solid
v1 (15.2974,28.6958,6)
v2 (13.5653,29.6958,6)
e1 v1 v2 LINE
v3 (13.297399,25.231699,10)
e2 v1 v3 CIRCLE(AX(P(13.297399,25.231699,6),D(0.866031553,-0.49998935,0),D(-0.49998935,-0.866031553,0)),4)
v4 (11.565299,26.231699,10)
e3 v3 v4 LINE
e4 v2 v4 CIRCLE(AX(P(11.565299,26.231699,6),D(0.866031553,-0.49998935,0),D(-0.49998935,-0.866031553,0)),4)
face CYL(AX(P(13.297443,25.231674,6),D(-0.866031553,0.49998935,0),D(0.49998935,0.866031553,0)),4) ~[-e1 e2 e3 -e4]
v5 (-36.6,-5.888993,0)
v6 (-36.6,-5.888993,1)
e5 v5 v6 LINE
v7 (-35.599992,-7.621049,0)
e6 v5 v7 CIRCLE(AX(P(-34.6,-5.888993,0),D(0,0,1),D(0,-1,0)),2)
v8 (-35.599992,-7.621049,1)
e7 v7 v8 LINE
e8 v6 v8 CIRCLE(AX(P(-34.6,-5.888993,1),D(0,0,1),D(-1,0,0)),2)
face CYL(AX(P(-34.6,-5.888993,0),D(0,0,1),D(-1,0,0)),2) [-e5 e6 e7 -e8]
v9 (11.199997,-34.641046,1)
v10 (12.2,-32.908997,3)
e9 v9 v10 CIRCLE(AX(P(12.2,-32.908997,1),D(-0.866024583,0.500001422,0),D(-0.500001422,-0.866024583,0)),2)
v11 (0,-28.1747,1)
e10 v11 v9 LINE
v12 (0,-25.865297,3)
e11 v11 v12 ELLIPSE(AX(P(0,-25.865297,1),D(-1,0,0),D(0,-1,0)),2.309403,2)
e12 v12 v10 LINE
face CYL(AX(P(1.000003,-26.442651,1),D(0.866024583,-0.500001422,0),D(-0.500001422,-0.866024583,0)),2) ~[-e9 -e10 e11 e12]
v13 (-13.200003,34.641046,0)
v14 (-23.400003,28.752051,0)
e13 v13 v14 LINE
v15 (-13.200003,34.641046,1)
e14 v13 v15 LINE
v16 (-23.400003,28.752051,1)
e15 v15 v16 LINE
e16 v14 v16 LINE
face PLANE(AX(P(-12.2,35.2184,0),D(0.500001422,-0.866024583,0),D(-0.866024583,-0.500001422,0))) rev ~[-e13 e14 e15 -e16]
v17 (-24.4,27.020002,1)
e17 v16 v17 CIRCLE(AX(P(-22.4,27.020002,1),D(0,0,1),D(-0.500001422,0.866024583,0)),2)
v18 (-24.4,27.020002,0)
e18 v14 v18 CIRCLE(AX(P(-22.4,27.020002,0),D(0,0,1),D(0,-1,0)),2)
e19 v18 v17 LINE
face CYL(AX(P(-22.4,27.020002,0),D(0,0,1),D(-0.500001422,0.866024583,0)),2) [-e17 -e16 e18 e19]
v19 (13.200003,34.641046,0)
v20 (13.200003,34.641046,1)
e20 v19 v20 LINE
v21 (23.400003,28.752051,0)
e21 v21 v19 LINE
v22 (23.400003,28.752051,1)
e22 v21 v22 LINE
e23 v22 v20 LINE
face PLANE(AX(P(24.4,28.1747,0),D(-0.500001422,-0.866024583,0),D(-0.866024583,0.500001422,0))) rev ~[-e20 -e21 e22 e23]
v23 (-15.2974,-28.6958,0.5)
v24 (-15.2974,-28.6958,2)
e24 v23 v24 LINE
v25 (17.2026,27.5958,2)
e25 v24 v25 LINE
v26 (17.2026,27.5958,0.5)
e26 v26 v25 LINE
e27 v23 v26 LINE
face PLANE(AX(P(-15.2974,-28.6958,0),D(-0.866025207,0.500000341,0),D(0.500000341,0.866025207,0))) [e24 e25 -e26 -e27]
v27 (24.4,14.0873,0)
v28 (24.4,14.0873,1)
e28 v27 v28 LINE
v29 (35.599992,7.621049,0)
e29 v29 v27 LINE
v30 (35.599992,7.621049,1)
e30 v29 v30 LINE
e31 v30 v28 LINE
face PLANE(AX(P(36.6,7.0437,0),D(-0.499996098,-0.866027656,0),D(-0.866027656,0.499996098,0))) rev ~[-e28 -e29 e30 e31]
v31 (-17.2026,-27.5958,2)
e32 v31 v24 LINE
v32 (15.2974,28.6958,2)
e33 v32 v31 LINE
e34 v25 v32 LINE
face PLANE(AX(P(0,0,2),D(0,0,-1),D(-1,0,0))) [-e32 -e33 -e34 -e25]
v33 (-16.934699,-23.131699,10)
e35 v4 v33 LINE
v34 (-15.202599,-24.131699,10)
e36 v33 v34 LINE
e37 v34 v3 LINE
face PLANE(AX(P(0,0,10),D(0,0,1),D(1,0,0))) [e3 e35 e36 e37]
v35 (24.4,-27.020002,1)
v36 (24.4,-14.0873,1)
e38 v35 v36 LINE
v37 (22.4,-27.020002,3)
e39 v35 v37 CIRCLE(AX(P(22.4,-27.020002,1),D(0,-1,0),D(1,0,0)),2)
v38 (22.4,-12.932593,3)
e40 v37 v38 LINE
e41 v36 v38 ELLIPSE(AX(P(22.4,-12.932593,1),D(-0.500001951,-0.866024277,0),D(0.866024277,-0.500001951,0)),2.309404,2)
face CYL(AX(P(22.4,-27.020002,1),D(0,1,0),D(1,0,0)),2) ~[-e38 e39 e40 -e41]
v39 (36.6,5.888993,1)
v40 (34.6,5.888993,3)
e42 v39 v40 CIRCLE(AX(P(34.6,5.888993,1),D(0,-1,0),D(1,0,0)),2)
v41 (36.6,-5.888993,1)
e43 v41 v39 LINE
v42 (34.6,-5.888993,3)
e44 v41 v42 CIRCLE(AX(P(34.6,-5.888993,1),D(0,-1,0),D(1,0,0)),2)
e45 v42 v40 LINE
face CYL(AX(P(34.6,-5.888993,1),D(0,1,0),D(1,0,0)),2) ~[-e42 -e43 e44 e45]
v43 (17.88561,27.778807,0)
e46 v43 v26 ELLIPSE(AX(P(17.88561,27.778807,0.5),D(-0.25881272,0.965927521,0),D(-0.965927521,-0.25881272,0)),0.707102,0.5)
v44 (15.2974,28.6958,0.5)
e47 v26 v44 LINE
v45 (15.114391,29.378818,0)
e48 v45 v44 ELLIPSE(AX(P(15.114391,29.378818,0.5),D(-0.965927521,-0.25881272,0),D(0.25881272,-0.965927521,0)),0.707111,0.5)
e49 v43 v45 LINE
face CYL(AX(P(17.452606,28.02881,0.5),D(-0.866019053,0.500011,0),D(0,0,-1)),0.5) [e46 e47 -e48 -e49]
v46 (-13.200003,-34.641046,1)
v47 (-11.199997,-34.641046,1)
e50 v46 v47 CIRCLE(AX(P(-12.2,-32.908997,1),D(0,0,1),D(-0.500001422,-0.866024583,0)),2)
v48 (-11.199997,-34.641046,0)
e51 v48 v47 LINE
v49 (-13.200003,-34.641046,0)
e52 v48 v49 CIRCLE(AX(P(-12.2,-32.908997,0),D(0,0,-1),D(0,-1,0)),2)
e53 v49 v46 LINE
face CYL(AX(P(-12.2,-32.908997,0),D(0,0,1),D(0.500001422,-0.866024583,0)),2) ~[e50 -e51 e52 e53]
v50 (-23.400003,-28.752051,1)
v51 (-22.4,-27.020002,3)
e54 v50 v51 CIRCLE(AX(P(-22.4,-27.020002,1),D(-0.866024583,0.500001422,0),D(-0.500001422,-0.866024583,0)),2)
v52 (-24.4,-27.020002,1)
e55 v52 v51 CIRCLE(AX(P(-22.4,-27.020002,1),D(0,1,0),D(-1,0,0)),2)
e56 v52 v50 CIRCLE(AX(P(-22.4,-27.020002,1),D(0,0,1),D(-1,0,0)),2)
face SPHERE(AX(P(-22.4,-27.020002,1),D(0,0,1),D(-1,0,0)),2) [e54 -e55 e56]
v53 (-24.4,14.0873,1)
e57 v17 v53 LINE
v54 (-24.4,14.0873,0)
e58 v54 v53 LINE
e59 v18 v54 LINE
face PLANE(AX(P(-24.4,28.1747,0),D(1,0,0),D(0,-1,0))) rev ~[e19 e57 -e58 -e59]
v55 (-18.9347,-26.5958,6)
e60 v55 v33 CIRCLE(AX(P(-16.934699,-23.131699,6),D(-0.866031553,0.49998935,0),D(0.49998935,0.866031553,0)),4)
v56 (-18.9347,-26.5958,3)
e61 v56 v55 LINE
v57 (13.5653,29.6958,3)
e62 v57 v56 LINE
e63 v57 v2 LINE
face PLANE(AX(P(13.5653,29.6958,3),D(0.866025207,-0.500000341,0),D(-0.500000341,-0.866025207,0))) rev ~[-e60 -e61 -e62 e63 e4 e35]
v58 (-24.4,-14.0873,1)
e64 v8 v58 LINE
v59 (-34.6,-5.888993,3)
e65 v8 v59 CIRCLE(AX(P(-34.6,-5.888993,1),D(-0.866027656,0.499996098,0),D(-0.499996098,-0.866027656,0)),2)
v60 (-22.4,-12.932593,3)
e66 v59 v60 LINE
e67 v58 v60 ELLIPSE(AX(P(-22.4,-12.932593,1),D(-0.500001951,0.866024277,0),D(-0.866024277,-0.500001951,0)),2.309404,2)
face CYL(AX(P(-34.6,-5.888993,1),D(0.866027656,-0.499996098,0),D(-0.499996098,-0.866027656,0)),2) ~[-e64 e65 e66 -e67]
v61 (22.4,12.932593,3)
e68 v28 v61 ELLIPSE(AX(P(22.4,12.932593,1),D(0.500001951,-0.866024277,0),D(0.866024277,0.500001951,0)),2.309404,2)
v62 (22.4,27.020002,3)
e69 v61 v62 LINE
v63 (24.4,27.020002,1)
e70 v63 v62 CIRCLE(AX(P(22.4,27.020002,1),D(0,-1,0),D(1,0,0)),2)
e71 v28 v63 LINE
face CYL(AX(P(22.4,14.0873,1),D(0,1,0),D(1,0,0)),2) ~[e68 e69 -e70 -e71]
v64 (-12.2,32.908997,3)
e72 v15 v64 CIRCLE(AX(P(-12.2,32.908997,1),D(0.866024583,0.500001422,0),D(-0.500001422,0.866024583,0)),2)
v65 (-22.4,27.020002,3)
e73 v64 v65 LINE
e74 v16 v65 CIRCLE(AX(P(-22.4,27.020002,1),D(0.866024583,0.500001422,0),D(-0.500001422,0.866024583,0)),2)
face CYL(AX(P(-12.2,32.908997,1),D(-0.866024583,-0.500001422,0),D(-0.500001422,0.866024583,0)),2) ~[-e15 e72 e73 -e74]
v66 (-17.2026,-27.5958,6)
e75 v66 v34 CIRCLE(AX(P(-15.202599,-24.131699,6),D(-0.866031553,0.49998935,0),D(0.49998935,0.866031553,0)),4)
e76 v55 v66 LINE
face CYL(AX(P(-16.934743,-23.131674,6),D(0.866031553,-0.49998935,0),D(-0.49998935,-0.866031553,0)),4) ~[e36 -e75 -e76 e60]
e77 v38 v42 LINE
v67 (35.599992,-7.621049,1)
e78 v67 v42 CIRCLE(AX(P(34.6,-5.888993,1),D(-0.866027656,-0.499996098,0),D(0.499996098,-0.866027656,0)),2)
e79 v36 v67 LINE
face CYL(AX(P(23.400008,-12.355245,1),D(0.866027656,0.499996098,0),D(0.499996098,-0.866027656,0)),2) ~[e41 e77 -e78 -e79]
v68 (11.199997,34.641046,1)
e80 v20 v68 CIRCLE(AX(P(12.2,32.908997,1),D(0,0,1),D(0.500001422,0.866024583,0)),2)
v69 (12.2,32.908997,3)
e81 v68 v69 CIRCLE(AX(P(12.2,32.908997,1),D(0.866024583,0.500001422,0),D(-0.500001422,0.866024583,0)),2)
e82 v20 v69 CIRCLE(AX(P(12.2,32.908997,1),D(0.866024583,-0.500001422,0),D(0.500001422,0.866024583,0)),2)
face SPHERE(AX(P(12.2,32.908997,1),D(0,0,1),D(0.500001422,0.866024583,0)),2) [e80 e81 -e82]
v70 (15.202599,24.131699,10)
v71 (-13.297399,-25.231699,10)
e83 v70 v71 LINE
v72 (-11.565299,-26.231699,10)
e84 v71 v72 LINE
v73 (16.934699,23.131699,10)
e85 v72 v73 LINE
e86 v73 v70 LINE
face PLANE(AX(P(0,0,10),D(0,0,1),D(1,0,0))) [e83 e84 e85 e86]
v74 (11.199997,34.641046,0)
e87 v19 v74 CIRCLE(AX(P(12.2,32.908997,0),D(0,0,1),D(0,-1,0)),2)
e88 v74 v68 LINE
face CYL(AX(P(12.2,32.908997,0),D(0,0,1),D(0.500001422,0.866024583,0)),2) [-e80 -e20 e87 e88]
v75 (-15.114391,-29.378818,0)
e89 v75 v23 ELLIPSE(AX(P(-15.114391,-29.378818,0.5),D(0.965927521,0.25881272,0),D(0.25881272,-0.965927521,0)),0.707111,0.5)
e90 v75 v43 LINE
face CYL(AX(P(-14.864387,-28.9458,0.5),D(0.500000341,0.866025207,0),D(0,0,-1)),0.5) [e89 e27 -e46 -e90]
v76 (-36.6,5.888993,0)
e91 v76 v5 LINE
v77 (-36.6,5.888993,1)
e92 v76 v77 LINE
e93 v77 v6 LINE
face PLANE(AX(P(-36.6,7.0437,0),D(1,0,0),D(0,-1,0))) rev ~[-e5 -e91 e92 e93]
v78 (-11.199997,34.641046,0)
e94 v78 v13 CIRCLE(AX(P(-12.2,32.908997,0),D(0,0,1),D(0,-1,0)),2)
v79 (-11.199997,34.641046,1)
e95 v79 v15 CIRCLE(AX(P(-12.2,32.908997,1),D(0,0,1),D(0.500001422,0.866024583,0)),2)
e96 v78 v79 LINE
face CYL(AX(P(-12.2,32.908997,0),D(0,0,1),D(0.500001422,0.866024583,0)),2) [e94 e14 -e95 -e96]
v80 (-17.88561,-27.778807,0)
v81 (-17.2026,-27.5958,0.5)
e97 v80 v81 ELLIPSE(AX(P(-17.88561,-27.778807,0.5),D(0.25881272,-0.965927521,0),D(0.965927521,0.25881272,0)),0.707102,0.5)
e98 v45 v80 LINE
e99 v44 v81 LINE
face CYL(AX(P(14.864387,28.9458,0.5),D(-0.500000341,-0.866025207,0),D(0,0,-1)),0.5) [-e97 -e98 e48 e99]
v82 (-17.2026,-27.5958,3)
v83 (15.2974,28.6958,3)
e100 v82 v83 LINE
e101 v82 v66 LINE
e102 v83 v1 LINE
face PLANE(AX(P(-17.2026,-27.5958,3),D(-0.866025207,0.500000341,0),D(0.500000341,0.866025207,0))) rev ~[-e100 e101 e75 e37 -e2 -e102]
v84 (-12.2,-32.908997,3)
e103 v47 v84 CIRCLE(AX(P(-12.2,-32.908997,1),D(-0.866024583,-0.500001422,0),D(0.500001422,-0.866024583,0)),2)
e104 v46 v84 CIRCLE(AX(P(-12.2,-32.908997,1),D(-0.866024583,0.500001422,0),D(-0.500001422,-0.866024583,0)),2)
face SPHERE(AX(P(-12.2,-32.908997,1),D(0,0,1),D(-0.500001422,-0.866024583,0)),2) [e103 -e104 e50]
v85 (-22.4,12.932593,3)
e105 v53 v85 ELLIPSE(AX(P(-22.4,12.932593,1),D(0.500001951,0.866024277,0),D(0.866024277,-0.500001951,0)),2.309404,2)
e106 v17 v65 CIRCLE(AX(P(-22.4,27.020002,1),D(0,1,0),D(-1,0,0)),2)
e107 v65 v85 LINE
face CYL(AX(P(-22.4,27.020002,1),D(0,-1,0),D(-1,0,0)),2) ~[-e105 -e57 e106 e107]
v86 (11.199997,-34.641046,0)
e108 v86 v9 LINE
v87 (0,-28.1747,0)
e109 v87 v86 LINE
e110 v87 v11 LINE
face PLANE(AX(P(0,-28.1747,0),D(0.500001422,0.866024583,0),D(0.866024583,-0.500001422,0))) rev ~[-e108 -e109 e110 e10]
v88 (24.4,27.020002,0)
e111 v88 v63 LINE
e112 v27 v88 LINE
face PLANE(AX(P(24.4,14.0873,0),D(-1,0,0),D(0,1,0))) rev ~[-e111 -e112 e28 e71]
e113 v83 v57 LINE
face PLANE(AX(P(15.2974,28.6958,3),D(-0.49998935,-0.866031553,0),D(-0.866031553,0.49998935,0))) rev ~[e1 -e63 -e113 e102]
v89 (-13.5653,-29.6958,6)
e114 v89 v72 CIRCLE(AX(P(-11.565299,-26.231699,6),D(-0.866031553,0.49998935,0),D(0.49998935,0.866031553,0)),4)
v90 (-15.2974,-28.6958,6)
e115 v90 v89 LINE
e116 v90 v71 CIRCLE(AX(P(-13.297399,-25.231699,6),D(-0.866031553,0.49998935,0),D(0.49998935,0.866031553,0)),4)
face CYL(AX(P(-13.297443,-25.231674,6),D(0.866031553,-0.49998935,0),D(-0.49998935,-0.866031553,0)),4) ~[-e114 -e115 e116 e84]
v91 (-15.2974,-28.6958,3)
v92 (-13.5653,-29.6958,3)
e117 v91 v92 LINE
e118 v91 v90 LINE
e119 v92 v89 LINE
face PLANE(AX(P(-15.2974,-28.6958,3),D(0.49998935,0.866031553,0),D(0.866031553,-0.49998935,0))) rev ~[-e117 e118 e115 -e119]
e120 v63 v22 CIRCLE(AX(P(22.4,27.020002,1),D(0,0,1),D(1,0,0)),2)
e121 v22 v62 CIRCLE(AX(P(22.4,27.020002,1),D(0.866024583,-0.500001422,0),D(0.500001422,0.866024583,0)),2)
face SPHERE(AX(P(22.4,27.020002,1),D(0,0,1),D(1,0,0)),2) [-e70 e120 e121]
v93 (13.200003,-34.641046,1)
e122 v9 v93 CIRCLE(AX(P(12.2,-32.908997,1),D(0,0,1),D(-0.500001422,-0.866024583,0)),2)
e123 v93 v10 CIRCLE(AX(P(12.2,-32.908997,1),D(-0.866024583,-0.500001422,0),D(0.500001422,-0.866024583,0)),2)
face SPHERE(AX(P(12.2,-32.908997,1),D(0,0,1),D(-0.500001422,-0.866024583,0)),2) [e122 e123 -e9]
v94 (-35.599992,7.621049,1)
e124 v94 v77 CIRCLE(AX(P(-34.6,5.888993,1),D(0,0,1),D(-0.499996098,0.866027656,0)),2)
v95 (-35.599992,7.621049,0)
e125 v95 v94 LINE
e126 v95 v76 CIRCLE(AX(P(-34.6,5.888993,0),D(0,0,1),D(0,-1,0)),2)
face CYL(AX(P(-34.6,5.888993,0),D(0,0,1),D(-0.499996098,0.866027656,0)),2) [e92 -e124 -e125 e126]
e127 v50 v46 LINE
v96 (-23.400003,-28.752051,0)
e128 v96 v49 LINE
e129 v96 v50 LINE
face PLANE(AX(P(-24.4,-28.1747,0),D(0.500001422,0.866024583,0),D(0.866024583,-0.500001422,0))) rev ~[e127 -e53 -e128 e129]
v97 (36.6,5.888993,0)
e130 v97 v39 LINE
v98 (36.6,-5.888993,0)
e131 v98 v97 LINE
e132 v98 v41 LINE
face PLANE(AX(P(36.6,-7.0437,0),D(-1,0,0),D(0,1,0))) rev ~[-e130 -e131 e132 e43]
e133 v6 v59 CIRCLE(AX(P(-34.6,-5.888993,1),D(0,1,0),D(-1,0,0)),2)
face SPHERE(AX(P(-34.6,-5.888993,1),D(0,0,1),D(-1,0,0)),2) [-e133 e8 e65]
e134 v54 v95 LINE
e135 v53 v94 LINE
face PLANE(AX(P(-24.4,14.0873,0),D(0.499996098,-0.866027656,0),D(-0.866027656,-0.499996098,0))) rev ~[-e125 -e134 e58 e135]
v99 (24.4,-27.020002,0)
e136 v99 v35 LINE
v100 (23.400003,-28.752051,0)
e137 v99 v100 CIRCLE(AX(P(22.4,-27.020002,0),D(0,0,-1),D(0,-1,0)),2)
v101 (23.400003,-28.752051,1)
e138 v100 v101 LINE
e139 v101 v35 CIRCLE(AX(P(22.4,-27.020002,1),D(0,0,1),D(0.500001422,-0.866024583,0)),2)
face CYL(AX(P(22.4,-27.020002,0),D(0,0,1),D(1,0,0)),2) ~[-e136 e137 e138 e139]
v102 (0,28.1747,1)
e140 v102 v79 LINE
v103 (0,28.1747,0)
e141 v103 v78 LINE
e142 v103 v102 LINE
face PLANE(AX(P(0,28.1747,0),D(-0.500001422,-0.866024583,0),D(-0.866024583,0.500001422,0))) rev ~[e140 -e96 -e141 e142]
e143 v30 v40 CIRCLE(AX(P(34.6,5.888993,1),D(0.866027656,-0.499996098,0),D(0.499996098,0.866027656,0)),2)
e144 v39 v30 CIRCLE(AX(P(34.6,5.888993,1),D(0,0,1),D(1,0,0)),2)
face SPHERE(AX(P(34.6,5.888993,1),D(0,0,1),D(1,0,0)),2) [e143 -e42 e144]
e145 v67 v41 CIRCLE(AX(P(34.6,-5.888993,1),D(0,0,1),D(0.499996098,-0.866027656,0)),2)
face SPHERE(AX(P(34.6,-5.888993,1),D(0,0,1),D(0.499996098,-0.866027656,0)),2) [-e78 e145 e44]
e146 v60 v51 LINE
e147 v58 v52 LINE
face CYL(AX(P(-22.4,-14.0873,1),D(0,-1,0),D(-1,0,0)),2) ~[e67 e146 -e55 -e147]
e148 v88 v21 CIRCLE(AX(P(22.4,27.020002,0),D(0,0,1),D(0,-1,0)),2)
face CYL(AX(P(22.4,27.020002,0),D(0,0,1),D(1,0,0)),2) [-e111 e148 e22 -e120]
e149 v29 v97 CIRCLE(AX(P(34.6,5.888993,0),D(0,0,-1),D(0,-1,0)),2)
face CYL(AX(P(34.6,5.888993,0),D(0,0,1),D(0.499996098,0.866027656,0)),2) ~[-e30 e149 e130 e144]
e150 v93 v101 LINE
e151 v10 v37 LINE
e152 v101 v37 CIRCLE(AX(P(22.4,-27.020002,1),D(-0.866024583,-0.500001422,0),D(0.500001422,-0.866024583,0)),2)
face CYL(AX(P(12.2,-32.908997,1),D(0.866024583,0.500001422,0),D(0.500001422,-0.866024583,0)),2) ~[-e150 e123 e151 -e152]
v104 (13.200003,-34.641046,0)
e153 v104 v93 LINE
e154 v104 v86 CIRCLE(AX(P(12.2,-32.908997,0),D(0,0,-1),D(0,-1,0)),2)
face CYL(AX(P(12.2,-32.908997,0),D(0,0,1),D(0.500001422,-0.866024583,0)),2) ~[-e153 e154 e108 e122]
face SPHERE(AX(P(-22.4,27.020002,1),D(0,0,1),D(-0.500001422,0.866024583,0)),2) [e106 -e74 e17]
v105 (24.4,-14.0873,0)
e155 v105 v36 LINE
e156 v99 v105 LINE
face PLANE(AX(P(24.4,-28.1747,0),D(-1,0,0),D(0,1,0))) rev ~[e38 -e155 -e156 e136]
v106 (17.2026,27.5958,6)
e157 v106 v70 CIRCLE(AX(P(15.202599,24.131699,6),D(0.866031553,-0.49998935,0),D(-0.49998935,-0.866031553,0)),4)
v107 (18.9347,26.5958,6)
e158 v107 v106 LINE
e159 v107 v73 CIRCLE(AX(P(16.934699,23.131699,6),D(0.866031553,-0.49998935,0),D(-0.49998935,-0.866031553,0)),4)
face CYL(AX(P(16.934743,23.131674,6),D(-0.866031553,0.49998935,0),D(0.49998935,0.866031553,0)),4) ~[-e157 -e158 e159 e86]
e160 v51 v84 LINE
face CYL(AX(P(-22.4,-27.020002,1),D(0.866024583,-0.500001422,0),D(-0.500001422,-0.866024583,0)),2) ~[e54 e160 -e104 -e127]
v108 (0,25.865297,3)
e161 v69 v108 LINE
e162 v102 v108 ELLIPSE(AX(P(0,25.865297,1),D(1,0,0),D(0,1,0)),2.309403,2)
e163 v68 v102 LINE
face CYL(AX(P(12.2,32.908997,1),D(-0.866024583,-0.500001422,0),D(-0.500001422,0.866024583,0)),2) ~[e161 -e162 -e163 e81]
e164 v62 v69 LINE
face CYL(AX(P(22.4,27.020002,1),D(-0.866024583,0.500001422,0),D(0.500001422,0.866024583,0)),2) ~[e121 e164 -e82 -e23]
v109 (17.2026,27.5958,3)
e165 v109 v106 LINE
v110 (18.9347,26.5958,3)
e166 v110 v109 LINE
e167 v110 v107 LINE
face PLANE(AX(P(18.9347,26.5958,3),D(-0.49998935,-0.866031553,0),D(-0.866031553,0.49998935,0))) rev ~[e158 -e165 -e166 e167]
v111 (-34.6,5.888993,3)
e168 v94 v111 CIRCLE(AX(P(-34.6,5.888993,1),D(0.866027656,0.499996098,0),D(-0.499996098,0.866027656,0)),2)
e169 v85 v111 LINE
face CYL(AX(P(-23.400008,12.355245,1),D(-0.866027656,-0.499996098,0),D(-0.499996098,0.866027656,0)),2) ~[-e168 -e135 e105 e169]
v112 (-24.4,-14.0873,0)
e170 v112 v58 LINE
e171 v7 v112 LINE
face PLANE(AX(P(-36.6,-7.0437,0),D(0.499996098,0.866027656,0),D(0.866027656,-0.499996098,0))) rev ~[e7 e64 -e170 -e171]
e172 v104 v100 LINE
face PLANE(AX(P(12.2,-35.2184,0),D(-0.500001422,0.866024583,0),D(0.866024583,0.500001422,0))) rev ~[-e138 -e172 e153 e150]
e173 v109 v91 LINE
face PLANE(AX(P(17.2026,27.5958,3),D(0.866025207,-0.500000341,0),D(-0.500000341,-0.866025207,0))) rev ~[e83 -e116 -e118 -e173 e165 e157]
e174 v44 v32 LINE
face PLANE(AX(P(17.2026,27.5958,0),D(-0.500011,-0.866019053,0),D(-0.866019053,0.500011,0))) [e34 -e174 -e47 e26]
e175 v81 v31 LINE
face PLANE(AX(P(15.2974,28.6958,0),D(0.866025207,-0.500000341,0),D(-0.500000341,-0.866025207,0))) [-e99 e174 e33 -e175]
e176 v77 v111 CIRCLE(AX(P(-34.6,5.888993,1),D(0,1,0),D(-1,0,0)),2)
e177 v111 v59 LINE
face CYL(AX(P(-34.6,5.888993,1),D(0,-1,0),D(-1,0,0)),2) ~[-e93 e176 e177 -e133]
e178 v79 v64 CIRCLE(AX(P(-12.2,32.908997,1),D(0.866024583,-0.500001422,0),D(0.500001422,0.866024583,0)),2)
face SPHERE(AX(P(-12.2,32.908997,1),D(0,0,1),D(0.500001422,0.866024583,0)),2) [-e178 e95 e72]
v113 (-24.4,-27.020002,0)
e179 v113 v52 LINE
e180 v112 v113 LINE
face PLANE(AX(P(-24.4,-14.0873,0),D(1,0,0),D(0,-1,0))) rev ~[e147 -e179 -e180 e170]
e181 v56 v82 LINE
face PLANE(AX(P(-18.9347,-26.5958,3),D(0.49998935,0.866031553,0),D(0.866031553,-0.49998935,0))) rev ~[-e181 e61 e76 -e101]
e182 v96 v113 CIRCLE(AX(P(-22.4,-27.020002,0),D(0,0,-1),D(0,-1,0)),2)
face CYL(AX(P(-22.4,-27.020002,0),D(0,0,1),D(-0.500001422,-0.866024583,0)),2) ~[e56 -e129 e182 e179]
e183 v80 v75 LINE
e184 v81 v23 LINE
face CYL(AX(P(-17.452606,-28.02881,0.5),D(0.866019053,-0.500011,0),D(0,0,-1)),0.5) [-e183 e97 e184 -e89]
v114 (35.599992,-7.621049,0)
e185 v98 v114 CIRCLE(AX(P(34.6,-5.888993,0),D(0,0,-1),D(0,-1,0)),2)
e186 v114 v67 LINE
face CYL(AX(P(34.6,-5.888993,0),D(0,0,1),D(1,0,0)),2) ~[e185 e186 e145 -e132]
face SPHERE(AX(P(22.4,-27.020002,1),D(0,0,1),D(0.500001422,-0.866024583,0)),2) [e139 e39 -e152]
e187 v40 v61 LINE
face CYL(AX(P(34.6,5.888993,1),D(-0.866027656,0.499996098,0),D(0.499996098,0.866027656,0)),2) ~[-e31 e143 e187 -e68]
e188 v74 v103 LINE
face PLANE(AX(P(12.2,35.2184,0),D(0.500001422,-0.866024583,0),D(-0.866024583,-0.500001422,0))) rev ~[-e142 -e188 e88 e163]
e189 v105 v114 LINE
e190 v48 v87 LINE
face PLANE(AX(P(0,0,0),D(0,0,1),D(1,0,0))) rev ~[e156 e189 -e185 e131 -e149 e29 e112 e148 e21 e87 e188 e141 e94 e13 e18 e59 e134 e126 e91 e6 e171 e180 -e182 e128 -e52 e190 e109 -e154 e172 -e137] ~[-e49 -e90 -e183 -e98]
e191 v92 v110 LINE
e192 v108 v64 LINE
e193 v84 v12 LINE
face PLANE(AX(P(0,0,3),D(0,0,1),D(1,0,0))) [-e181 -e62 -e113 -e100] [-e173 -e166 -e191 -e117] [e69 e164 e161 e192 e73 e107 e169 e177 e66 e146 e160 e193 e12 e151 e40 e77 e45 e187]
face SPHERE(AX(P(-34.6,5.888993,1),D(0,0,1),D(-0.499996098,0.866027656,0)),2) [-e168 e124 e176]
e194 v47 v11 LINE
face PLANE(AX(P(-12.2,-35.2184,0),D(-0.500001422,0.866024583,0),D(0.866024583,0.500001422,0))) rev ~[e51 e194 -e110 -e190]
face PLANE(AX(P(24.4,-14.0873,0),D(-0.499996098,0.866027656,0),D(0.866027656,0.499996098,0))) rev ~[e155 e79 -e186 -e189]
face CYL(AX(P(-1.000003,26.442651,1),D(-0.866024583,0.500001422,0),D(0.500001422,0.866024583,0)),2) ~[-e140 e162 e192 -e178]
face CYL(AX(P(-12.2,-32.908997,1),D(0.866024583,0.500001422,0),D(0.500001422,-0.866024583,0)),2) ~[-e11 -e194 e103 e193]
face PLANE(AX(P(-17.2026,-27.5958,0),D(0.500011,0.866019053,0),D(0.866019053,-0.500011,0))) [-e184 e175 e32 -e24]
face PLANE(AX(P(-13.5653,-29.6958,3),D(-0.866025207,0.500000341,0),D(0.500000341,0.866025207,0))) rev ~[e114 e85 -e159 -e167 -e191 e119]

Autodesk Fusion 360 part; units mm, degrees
sketch "Sketch3" plane through (0, 0, 0) normal (0, 0, 1) x (1, 0, 0)
  line L0 (12.2, 7.0437) -> (0, 14.0873)
  line L1 (0, 14.0873) -> (-12.2, 7.0437)
  line L2 (-12.2, 7.0437) -> (-12.2, -7.0437)
  line L3 (-12.2, -7.0437) -> (0, -14.0873)
  line L4 (0, -14.0873) -> (12.2, -7.0437)
  line L5 (12.2, -7.0437) -> (12.2, 7.0437)
  line L6 (0, -14.0873) -> (0, 14.0873) construction
  line L7 (24.4, 14.0873) -> (24.4, 28.1747)
  line L8 (24.4, 28.1747) -> (12.2, 35.2184)
  line L9 (12.2, 35.2184) -> (0, 28.1747)
  line L10 (0, 28.1747) -> (0, 14.0873)
  line L11 (0, 14.0873) -> (12.2, 7.0437)
  line L12 (12.2, 7.0437) -> (24.4, 14.0873)
  line L13 (0, 14.0873) -> (0, 28.1747)
  line L14 (0, 28.1747) -> (-12.2, 35.2184)
  line L15 (-12.2, 35.2184) -> (-24.4, 28.1747)
  line L16 (-24.4, 28.1747) -> (-24.4, 14.0873)
  line L17 (-24.4, 14.0873) -> (-12.2, 7.0437)
  line L18 (-12.2, 7.0437) -> (0, 14.0873)
  line L19 (36.6, -7.0437) -> (36.6, 7.0437)
  line L20 (36.6, 7.0437) -> (24.4, 14.0873)
  line L21 (24.4, 14.0873) -> (12.2, 7.0437)
  line L22 (12.2, 7.0437) -> (12.2, -7.0437)
  line L23 (12.2, -7.0437) -> (24.4, -14.0873)
  line L24 (24.4, -14.0873) -> (36.6, -7.0437)
  line L25 (-12.2, 7.0437) -> (-24.4, 14.0873)
  line L26 (-24.4, 14.0873) -> (-36.6, 7.0437)
  line L27 (-36.6, 7.0437) -> (-36.6, -7.0437)
  line L28 (-36.6, -7.0437) -> (-24.4, -14.0873)
  line L29 (-24.4, -14.0873) -> (-12.2, -7.0437)
  line L30 (-12.2, -7.0437) -> (-12.2, 7.0437)
  line L31 (-12.2, -7.0437) -> (-24.4, -14.0873)
  line L32 (-24.4, -14.0873) -> (-24.4, -28.1747)
  line L33 (-24.4, -28.1747) -> (-12.2, -35.2184)
  line L34 (-12.2, -35.2184) -> (0, -28.1747)
  line L35 (0, -28.1747) -> (0, -14.0873)
  line L36 (0, -14.0873) -> (-12.2, -7.0437)
  line L37 (24.4, -14.0873) -> (12.2, -7.0437)
  line L38 (12.2, -7.0437) -> (0, -14.0873)
  line L39 (0, -14.0873) -> (0, -28.1747)
  line L40 (0, -28.1747) -> (12.2, -35.2184)
  line L41 (12.2, -35.2184) -> (24.4, -28.1747)
  line L42 (24.4, -28.1747) -> (24.4, -14.0873)
  line L43 (0, 48) -> (0, -40) construction
  point P0 (12.2, 21.131)
  point P1 (-12.2, 21.131)
  point P2 (24.4, 0)
  point P3 (-24.4, 0)
  point P4 (-12.2, -21.131)
  point P5 (12.2, -21.131)
  dimension "d10" = 12.2
  dimension "d29" = 12.2
  dimension "d30" = 12.2
  dimension "d31" = 12.2
  dimension "d32" = 12.2
  dimension "d33" = 12.2
  dimension "d34" = 12.2
extrude "Extrude2" add sketch "Sketch3" along normal blind 3
sketch "Sketch4" plane through (0, 0, 3) normal (0, 0, 1) x (1, 0, 0)
  line L0 (13.5653, 29.6958) -> (-18.9347, -26.5958)
  line L1 (-18.9347, -26.5958) -> (-17.2026, -27.5958)
  line L2 (-17.2026, -27.5958) -> (15.2974, 28.6958)
  line L3 (15.2974, 28.6958) -> (13.5653, 29.6958)
  line L4 (17.2026, 27.5958) -> (-15.2974, -28.6958)
  line L5 (-15.2974, -28.6958) -> (-13.5653, -29.6958)
  line L6 (-13.5653, -29.6958) -> (18.9347, 26.5958)
  line L7 (18.9347, 26.5958) -> (17.2026, 27.5958)
  line L8 (-24.4, 14.0873) -> (24.4, -14.0873) construction
  line L9 (24.4, -28.1747) -> (24.4, -14.0873)
  line L10 (24.4, -14.0873) -> (36.6, -7.0437)
  line L11 (36.6, -7.0437) -> (36.6, 7.0437)
  line L12 (36.6, 7.0437) -> (24.4, 14.0873)
  line L13 (24.4, 14.0873) -> (24.4, 28.1747)
  line L14 (24.4, 28.1747) -> (12.2, 35.2184)
  line L15 (12.2, 35.2184) -> (0, 28.1747)
  line L16 (0, 28.1747) -> (-12.2, 35.2184)
  line L17 (-12.2, 35.2184) -> (-24.4, 28.1747)
  line L18 (-24.4, 28.1747) -> (-24.4, 14.0873)
  line L19 (-24.4, 14.0873) -> (-36.6, 7.0437)
  line L20 (-36.6, 7.0437) -> (-36.6, -7.0437)
  line L21 (-36.6, -7.0437) -> (-24.4, -14.0873)
  line L22 (-24.4, -14.0873) -> (-24.4, -28.1747)
  line L23 (-24.4, -28.1747) -> (-12.2, -35.2184)
  line L24 (-12.2, -35.2184) -> (0, -28.1747)
  line L25 (0, -28.1747) -> (12.2, -35.2184)
  line L26 (12.2, -35.2184) -> (24.4, -28.1747)
  line L27 (18.3, 31.6965) -> (-18.3, -31.6965)
  dimension "d13" = 65
  dimension "d14" = 2
  dimension "d15" = 2.2
extrude "Extrude3" add sketch "Sketch4" along normal blind 7 contours L0 L1 L2 L3 | L4 L5 L6 L7
sketch "Sketch5" plane through (0, 0, 0) normal (0, 0, -1) x (-1, 0, 0)
  line L0 (-17.2026, 27.5958) -> (-15.2974, 28.6958)
  line L1 (-15.2974, 28.6958) -> (17.2026, -27.5958)
  line L2 (17.2026, -27.5958) -> (15.2974, -28.6958)
  line L3 (15.2974, -28.6958) -> (-17.2026, 27.5958)
  line L4 (24.4, -28.1747) -> (12.2, -35.2184)
  line L5 (-24.4, 28.1747) -> (-12.2, 35.2184)
  line L6 (18.3, -31.6965) -> (-18.3, 31.6965) construction
  line L7 (24.4, 14.0873) -> (-24.4, -14.0873) construction
  line L8 (24.4, 14.0873) -> (36.6, 7.0437)
  point P0 (24.4, 14.0873)
  point P1 (-24.4, -14.0873)
  dimension "d18" = 65
  dimension "d19" = 2.2
extrude "Extrude4" cut sketch "Sketch5" against normal blind 2
fillet "Fillet1" radius 4 4 edges at (-14.4313, -29.1958, 10) (-18.0687, -27.0958, 10) (18.0687, 27.0958, 10) (14.4313, 29.1958, 10)
fillet "Fillet2" radius 2 12 edges at (-12.2, -35.2184, 1.5) (12.2, -35.2184, 1.5) (24.4, -28.1747, 1.5) (36.6, -7.0437, 1.5) (36.6, 7.0437, 1.5) (24.4, 28.1747, 1.5) (12.2, 35.2184, 1.5) (-12.2, 35.2184, 1.5) (-24.4, 28.1747, 1.5) (-36.6, 7.0437, 1.5) (-36.6, -7.0437, 1.5) (-24.4, -28.1747, 1.5)
fillet "Fillet3" radius 0.5 4 edges at (-16.25, -28.1458, 0) (-0.9526, 0.55, 0) (16.25, 28.1458, 0) (0.9526, -0.55, 0)
fillet "Fillet5" radius 2 30 edges at (-5.6, 31.4079, 3) (-12.2, 34.909, 3) (-18.3, 31.6965, 3) (-24.1321, 28.02, 3) (-24.4, 20.5537, 3) (24.4, 20.5537, 3) (24.1321, 28.02, 3) (18.3, 31.6965, 3) (12.2, 34.909, 3) (5.6, 31.4079, 3) (30, -10.8542, 3) (36.3321, -6.889, 3) (36.6, 0, 3) (36.3321, 6.889, 3) (30, 10.8542, 3) (5.6, -31.4079, 3) (12.2, -34.909, 3) (18.3, -31.6965, 3) (24.1321, -28.02, 3) (24.4, -20.5537, 3) (-24.4, -20.5537, 3) (-24.1321, -28.02, 3) (-18.3, -31.6965, 3) (-12.2, -34.909, 3) (-5.6, -31.4079, 3) (-30, 10.8542, 3) (-36.3321, 6.889, 3) (-36.6, 0, 3) (-36.3321, -6.889, 3) (-30, -10.8542, 3)
